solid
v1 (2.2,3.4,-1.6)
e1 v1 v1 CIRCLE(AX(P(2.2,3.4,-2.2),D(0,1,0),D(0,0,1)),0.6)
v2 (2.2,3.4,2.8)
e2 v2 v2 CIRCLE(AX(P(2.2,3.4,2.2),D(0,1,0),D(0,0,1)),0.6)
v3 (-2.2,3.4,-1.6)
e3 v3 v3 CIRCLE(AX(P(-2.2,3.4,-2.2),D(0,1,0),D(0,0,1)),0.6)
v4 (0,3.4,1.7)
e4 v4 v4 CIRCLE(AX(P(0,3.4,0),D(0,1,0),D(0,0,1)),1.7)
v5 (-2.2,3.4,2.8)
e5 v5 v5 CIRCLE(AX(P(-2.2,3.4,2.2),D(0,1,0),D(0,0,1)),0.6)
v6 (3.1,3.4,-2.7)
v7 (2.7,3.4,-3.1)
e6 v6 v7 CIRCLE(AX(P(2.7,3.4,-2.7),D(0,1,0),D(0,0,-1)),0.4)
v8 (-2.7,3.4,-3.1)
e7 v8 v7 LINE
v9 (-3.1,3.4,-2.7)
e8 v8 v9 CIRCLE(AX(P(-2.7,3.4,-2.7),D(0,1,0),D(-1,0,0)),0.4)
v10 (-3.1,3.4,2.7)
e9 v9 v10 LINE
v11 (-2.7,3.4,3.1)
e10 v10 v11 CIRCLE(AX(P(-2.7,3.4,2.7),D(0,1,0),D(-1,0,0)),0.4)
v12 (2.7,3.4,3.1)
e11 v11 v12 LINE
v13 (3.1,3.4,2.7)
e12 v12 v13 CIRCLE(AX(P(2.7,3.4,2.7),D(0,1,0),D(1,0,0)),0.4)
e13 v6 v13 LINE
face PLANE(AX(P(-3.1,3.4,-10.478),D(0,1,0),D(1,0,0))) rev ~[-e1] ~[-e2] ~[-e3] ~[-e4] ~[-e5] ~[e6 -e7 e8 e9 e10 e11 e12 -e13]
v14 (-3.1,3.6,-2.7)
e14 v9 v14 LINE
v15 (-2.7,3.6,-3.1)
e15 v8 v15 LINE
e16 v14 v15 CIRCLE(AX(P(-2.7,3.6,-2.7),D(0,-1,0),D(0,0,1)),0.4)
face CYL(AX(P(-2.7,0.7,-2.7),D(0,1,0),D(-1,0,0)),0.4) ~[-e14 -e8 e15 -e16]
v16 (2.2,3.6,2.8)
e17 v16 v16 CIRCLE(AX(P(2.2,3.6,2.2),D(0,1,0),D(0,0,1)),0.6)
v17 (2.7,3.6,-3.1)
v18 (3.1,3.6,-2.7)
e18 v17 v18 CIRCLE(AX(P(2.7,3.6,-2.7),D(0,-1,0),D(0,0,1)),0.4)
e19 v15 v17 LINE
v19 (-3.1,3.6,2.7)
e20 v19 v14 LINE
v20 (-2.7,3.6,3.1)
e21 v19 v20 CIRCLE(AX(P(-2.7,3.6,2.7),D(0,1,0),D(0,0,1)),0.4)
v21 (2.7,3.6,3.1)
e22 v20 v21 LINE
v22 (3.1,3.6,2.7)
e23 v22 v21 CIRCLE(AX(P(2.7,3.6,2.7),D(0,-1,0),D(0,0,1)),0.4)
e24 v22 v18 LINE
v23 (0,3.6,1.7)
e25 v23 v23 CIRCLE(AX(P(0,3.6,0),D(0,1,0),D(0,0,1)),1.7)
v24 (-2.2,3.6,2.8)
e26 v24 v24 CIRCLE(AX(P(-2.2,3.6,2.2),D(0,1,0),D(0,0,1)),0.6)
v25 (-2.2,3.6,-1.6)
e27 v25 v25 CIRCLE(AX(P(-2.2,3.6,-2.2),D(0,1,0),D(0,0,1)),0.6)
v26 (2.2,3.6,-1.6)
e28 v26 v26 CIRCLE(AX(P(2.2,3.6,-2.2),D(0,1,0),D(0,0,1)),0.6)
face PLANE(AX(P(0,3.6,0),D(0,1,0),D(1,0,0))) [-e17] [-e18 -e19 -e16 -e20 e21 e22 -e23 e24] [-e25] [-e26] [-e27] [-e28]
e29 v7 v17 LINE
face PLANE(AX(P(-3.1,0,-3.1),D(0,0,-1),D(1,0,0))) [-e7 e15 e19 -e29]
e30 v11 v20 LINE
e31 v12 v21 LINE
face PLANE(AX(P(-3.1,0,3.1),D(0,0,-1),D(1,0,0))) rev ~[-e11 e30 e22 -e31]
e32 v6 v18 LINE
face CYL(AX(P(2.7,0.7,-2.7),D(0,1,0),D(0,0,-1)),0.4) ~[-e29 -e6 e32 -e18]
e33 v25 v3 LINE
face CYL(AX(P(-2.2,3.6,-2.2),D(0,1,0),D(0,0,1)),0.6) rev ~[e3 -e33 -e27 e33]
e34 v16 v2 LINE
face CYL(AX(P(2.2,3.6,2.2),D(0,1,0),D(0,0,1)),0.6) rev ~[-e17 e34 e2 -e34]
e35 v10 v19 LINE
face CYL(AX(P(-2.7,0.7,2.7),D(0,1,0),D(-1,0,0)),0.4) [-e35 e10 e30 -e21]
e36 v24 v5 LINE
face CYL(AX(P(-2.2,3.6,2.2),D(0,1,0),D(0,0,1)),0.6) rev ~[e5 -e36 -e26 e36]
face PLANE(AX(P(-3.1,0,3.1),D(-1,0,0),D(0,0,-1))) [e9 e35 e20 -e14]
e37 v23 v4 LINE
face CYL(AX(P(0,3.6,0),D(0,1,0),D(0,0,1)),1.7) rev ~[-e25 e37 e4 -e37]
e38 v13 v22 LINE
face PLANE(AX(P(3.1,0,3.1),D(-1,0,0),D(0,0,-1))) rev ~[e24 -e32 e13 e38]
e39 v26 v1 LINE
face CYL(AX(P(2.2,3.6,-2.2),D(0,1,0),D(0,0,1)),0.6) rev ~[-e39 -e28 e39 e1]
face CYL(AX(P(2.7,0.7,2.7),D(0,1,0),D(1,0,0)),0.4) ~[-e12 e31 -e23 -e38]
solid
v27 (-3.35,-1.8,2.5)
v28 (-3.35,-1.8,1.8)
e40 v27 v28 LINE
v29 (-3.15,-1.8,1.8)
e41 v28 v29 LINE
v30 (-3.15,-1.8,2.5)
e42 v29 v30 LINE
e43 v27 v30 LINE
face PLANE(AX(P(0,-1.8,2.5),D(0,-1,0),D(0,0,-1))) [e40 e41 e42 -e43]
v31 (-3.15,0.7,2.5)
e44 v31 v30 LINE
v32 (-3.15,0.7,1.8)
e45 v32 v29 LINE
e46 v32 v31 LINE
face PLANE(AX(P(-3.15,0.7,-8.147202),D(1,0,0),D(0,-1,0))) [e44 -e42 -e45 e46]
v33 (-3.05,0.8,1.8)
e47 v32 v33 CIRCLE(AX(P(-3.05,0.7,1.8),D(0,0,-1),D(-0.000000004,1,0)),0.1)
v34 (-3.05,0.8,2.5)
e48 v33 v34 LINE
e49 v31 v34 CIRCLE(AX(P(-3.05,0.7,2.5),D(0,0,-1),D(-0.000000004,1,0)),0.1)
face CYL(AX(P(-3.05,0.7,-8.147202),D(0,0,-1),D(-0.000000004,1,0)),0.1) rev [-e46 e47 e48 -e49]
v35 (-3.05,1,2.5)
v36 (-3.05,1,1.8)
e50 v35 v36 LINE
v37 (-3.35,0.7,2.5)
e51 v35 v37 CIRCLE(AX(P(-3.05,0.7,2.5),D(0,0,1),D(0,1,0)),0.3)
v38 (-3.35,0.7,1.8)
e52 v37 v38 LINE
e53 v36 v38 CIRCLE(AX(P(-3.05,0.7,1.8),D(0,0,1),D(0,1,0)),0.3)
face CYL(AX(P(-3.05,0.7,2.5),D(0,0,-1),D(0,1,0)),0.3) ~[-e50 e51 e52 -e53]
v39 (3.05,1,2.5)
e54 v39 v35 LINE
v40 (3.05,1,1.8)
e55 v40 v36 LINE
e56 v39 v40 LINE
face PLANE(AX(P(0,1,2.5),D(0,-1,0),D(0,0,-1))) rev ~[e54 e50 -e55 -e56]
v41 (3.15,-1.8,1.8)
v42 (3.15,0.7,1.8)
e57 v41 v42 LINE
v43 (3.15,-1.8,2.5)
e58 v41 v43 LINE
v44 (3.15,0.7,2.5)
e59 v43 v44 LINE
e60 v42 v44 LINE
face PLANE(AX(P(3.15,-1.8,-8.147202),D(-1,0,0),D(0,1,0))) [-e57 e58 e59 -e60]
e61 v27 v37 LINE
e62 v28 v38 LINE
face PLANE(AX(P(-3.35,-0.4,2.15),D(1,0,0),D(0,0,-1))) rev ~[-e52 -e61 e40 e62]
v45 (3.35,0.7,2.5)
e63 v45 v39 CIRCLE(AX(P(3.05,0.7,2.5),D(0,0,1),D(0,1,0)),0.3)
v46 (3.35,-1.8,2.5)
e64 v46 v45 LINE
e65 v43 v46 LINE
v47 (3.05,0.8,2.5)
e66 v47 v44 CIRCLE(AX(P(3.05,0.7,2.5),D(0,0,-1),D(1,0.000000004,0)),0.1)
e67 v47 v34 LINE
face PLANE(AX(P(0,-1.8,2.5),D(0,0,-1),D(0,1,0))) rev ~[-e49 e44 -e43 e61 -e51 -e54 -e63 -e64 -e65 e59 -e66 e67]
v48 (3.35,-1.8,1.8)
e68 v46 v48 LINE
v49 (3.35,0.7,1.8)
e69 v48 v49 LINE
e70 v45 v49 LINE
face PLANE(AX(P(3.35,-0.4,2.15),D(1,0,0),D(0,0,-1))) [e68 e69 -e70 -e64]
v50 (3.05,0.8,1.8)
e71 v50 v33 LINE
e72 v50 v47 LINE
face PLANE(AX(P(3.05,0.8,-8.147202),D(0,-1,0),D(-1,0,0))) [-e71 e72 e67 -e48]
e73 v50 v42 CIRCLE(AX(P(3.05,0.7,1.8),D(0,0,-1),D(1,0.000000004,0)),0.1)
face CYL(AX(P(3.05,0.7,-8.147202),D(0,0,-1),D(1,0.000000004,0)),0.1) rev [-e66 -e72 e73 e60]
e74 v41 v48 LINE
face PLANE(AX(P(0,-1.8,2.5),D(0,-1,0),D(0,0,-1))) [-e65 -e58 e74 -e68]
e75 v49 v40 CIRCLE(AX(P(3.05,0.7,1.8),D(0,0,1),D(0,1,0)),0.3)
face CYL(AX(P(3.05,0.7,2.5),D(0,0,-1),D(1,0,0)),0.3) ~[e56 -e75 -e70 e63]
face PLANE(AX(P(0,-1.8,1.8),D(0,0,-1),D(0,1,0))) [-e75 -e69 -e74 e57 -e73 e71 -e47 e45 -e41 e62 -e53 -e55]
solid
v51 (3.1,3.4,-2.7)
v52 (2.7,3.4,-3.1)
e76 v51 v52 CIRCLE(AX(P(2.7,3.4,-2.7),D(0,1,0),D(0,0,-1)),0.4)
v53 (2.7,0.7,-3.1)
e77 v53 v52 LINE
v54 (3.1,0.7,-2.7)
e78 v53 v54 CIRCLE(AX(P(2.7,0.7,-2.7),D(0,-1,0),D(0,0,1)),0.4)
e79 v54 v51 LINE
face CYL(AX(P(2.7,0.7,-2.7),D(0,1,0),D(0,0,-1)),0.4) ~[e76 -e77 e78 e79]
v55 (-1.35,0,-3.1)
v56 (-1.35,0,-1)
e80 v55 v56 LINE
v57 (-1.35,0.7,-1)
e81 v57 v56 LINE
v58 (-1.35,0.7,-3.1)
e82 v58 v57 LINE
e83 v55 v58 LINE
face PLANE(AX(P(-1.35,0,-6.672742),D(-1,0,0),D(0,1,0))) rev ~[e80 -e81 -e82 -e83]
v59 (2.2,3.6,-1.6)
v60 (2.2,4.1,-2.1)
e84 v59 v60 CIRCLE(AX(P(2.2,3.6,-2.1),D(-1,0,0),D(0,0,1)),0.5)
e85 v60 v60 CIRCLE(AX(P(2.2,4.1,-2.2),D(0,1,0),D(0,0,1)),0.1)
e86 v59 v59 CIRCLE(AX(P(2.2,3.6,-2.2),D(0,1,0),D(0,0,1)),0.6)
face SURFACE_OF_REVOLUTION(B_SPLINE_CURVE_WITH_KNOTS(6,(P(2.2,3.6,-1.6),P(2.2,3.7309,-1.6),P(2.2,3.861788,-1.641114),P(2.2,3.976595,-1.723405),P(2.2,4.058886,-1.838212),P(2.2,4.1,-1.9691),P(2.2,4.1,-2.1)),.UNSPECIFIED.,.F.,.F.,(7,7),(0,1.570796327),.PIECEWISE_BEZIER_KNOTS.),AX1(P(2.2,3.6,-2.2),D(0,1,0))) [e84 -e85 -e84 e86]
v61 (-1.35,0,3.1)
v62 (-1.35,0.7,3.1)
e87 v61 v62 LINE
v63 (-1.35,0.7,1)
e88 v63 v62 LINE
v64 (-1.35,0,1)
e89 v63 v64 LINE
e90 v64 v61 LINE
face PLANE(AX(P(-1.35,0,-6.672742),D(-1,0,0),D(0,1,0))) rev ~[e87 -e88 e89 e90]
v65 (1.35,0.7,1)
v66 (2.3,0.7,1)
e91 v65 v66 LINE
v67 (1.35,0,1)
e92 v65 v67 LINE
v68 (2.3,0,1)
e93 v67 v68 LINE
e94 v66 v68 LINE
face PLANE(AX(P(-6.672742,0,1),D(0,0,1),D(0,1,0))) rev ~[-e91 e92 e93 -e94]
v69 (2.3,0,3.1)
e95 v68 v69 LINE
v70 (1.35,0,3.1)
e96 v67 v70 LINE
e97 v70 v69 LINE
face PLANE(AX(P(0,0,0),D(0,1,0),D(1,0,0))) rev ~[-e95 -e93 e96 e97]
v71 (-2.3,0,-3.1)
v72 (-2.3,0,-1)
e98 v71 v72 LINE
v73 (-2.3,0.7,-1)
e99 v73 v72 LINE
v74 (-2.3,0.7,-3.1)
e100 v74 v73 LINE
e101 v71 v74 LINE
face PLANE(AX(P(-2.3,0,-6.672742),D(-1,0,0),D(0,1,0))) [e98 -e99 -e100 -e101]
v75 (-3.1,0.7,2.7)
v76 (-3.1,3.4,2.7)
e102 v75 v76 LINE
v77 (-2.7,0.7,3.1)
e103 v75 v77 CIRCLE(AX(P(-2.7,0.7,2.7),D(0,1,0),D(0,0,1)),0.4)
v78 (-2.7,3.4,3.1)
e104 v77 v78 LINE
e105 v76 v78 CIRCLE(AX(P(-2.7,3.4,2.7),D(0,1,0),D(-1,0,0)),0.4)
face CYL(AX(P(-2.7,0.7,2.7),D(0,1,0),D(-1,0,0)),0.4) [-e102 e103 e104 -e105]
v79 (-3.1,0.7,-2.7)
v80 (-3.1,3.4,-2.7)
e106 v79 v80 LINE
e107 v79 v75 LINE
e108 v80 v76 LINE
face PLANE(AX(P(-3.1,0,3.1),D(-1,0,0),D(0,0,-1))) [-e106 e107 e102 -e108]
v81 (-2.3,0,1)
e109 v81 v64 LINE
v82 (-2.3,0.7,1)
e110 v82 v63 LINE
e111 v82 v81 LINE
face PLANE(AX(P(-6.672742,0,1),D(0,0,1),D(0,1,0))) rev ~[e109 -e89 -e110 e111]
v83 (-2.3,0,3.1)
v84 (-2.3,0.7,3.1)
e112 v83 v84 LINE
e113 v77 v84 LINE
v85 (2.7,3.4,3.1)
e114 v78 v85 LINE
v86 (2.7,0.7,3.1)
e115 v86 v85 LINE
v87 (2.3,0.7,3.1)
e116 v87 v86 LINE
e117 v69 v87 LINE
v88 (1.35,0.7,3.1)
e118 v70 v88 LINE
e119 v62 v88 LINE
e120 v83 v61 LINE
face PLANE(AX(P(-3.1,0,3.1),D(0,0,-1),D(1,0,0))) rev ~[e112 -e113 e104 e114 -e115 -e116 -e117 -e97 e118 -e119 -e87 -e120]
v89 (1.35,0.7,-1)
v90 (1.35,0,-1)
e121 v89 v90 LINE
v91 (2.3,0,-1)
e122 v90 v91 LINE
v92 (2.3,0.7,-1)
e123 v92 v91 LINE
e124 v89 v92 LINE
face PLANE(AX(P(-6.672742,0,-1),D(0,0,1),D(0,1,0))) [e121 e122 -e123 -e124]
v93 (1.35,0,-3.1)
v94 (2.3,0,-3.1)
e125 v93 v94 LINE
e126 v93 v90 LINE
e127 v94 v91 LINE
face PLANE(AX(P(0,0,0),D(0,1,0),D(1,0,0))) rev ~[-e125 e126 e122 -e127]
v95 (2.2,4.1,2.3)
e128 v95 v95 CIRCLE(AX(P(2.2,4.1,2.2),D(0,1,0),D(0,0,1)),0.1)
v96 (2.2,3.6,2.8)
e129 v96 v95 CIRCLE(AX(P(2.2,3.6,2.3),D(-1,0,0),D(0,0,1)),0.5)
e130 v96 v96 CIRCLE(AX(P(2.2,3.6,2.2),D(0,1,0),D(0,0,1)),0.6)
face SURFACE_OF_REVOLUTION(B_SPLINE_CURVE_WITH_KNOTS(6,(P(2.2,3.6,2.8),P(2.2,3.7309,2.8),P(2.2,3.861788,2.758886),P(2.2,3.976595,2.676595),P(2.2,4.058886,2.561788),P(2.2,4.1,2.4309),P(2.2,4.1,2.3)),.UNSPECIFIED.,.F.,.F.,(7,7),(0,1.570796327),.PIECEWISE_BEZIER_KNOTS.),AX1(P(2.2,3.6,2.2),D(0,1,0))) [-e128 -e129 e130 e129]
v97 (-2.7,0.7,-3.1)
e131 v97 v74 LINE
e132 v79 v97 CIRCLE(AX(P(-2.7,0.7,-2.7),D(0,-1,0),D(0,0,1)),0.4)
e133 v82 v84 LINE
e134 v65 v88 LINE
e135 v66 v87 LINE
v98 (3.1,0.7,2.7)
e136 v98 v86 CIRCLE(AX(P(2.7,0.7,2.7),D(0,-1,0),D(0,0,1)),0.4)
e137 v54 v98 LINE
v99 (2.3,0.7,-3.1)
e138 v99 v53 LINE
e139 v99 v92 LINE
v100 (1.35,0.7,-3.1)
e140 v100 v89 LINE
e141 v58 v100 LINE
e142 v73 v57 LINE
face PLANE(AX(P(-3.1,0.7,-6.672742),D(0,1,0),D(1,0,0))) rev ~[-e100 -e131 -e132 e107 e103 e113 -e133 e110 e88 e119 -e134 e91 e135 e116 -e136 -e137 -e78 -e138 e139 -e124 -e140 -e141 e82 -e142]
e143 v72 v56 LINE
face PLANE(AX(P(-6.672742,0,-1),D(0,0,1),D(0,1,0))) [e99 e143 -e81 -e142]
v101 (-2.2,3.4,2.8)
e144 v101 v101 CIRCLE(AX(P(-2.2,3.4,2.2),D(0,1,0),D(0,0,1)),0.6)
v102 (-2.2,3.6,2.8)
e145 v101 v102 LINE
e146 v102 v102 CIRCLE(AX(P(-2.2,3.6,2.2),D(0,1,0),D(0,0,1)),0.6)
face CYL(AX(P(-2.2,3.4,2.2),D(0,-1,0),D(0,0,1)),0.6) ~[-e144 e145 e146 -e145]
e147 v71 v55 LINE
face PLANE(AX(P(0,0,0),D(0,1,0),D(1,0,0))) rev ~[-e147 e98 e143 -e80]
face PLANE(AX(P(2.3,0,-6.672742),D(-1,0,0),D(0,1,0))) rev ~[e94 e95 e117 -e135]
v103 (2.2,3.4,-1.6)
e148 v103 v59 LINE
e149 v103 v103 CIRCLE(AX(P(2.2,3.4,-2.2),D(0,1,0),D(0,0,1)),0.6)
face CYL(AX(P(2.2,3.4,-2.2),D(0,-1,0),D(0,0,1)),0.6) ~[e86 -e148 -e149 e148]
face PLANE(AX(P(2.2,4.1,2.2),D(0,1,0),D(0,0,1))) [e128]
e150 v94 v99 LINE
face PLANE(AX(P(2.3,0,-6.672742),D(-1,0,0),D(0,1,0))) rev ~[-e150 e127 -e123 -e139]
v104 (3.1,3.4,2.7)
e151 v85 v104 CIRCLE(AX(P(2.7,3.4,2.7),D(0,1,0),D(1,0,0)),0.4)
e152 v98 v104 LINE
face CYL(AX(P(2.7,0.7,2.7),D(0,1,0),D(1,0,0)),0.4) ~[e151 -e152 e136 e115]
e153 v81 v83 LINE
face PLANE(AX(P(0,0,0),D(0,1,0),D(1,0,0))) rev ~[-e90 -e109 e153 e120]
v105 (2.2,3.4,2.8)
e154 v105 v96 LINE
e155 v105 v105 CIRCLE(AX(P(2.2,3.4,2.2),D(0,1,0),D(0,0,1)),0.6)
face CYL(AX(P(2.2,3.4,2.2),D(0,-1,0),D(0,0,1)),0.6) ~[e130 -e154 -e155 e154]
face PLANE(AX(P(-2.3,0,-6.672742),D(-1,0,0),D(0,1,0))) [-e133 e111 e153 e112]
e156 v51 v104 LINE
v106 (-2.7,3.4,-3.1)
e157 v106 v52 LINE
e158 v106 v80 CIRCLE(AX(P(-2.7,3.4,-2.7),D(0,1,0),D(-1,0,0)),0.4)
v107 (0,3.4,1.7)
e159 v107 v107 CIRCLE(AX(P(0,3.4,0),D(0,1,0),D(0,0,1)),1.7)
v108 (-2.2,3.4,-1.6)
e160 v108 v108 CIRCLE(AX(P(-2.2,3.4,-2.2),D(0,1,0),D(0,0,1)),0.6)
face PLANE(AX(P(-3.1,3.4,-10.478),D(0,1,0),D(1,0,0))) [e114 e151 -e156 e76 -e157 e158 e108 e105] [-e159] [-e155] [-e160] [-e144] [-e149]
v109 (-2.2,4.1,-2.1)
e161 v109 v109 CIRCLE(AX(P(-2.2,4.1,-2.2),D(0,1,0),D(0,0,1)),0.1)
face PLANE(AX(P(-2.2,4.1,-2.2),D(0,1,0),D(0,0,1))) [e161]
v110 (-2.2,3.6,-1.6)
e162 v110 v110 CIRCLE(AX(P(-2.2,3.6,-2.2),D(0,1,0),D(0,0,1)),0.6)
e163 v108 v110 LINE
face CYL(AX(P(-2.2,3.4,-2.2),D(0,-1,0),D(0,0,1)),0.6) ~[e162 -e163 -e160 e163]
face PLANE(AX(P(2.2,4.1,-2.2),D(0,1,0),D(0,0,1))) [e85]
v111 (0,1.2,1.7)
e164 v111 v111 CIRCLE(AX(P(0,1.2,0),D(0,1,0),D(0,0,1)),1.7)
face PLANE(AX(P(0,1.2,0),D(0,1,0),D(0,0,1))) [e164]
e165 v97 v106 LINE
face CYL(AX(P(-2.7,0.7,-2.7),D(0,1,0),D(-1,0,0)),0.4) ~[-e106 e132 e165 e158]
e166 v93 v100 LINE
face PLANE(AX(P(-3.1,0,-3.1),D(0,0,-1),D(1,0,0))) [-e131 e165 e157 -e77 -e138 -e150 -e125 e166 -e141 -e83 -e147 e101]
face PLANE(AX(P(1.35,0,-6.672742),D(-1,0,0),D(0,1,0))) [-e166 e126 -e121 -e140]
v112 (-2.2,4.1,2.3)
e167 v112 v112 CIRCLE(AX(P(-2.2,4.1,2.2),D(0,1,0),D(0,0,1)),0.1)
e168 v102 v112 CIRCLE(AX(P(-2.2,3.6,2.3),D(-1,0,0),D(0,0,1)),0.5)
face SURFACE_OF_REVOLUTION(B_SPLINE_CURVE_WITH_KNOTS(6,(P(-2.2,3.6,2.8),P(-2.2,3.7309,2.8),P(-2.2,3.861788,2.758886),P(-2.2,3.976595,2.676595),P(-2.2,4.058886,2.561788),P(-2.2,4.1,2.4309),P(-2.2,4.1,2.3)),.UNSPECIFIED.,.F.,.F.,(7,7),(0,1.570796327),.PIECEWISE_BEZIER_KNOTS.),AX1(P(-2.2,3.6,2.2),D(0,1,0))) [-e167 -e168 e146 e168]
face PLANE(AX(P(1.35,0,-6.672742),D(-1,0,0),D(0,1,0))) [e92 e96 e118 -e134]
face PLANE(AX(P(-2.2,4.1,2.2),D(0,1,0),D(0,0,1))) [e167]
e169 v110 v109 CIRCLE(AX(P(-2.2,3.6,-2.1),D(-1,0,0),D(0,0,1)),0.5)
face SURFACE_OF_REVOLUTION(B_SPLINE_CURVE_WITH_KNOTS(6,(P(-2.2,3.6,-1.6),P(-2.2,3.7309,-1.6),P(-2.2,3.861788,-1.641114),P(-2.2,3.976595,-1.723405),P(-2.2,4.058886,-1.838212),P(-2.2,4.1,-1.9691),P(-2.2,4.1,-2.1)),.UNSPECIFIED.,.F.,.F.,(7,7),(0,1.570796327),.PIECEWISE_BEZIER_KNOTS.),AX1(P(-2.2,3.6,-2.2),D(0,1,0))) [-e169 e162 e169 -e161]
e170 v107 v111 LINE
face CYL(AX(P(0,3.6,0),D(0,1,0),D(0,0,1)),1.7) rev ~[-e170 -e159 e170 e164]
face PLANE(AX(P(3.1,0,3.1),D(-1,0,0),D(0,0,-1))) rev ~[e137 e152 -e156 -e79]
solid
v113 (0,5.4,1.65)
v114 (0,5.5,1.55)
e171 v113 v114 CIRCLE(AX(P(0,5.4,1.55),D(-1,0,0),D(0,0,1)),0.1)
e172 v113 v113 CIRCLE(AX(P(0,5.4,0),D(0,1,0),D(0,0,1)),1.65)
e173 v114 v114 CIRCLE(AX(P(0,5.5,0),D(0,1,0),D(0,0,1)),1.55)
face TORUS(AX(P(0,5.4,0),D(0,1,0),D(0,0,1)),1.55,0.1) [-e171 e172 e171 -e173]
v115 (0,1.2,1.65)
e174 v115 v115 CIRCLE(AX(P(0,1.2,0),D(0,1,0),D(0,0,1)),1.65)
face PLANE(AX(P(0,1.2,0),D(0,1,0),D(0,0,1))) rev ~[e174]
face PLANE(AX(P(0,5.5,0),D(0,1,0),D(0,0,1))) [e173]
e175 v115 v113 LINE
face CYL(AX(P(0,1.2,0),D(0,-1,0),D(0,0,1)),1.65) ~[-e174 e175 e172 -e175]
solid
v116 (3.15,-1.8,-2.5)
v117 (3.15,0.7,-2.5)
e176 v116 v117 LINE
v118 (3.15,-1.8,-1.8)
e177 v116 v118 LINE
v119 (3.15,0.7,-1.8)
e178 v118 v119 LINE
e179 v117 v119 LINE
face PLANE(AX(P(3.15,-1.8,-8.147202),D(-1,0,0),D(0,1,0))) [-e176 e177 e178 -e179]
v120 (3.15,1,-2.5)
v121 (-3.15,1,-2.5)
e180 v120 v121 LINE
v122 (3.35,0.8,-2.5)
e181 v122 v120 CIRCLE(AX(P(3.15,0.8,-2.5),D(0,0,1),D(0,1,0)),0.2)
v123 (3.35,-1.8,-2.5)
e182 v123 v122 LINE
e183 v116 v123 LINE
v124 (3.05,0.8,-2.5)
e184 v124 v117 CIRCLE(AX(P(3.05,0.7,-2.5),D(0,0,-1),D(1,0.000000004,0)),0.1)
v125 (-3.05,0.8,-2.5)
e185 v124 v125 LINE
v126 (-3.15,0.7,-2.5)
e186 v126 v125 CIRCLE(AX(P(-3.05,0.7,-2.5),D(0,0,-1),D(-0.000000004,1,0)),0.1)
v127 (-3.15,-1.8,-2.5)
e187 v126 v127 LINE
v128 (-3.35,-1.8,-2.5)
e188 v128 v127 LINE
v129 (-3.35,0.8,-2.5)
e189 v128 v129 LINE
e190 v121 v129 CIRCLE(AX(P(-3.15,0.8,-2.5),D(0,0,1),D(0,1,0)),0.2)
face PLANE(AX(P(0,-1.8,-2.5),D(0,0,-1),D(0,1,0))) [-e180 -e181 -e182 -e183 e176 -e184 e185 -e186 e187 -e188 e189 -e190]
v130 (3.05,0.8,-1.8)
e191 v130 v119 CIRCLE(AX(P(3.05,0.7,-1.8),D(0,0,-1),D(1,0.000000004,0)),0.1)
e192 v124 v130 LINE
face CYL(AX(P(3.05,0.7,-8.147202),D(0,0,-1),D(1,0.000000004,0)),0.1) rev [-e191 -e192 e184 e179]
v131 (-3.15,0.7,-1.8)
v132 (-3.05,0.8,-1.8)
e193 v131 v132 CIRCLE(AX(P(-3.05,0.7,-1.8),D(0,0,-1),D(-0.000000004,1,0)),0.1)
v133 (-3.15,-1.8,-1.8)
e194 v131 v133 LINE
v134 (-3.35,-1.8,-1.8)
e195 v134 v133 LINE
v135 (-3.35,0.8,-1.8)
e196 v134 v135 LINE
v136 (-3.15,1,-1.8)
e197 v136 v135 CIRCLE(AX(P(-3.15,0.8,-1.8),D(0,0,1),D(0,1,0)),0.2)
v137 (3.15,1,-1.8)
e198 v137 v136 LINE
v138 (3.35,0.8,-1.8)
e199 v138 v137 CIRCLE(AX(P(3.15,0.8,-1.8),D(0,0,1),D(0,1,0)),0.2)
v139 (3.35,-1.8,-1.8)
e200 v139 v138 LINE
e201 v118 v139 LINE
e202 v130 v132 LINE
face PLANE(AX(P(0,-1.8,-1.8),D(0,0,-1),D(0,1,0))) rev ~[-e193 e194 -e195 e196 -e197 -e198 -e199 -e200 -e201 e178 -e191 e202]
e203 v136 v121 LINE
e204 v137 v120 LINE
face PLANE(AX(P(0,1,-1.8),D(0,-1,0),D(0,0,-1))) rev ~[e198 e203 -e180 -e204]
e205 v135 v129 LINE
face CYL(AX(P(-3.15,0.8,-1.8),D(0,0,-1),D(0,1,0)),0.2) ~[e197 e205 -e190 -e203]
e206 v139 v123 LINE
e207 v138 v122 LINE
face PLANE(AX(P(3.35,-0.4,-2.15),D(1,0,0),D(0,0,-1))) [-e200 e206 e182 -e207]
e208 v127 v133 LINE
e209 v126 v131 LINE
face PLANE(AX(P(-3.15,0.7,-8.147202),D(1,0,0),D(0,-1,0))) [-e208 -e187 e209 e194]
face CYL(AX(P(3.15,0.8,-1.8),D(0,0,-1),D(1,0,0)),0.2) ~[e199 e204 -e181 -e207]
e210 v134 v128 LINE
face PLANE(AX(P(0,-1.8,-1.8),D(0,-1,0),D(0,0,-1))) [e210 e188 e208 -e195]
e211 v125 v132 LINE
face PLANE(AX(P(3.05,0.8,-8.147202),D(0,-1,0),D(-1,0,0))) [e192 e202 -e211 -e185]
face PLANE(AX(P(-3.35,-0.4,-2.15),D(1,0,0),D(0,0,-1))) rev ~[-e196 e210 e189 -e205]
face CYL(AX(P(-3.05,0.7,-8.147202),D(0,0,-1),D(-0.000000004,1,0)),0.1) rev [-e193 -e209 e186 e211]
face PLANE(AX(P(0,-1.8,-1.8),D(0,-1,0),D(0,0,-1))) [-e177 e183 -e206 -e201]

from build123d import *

# Parameters (mm, degrees)
SKETCH1_W                = 6.2
SKETCH1_H                = 6.2
BOSS_EXTRUDE1_DEPTH      = 3.6
CUT_EXTRUDE1_DEPTH       = 6.672741841
CUT_EXTRUDE1_DEPTH_BACK  = 6.672741841
SKETCH2_W                = 2
SKETCH2_H                = 0.7
CUT_EXTRUDE2_DEPTH       = 6.672741841
CUT_EXTRUDE2_DEPTH_BACK  = 6.672741841
SKETCH4_W                = 2.7
SKETCH4_H                = 0.7
SKETCH4_W_2              = 0.8
FILLET1_R                = 0.4
SPLIT1_SURFACE_1_BACK    = 10.478
SPLIT1_SURFACE_1_DEPTH   = 20.956
SPLIT1_SURFACE_2_BACK    = 10.478
SPLIT1_SURFACE_2_DEPTH   = 20.956
SKETCH6_R                = 0.6
CUT_EXTRUDE3_DEPTH       = 6.672741841
BOSS_EXTRUDE3_DEPTH      = 0.5
BOSS_EXTRUDE3_DEPTH_BACK = 0.2
SKETCH6_2_R              = 0.6
FILLET2_R                = 0.5
SKETCH7_R                = 1.7
CUT_EXTRUDE4_DEPTH       = 2.4
SKETCH8_R                = 1.65
BOSS_EXTRUDE4_DEPTH      = 4.3
FILLET3_R                = 0.1
SKETCH9_W                = 0.7
SKETCH9_H                = 2.8
BOSS_EXTRUDE5_DEPTH      = 3.35
BOSS_EXTRUDE5_2_DEPTH    = 3.35
FILLET4_R                = 0.3
FILLET5_R                = 0.2
CUT_EXTRUDE5_DEPTH       = 8.14720225
CUT_EXTRUDE5_DEPTH_BACK  = 8.14720225


with BuildPart() as part:
    # Sketch1 → Boss-Extrude1 (new body)
    with BuildSketch(Plane(origin=(0, 0, 0), x_dir=(1, 0, 0), z_dir=(0, 1, 0))):
        Rectangle(SKETCH1_W, SKETCH1_H)
    extrude(amount=BOSS_EXTRUDE1_DEPTH)

    # Sketch2 → Cut-Extrude1 (cut, two sides: drawn at the far end of the back side and taken through both)
    with BuildSketch(Plane(origin=(0, 0, 0), x_dir=(0, 0, -1), z_dir=(1, 0, 0)).offset(-CUT_EXTRUDE1_DEPTH_BACK)):
        with Locations((0, 0.35)):
            Rectangle(SKETCH2_W, SKETCH2_H)
    extrude(amount=CUT_EXTRUDE1_DEPTH + CUT_EXTRUDE1_DEPTH_BACK, mode=Mode.SUBTRACT)

    # Sketch4 → Cut-Extrude2 (cut, two sides: drawn at the far end of the back side and taken through both)
    with BuildSketch(Plane.XY.offset(-CUT_EXTRUDE2_DEPTH_BACK)):
        with Locations((0, 0.35)):
            Rectangle(SKETCH4_W, SKETCH4_H)
        with Locations((2.7, 0.35)):
            Rectangle(SKETCH4_W_2, SKETCH4_H)
        with Locations((-2.7, 0.35)):
            Rectangle(SKETCH4_W_2, SKETCH4_H)
    extrude(amount=CUT_EXTRUDE2_DEPTH + CUT_EXTRUDE2_DEPTH_BACK, mode=Mode.SUBTRACT)

    # Fillet1
    fillet1_edges = [part.edges().sort_by_distance(p)[0] for p in [
        (3.1, 2.15, 3.1),
        (-3.1, 2.15, 3.1),
        (-3.1, 2.15, -3.1),
        (3.1, 2.15, -3.1),
    ]]
    fillet(fillet1_edges, radius=FILLET1_R)


with BuildPart() as body_2:
    # Split1: the piece behind the surface
    add(part.part)
    # Split1 surface: a surface, the sketch's curves swept straight by 20.956 mm
    with BuildLine(Plane.XY.offset(-SPLIT1_SURFACE_1_BACK), mode=Mode.PRIVATE) as split1_surface_1_path:
        Line((-3.1, 3.4), (3.1, 3.4))
    split1_surface_1 = Shell.extrude(split1_surface_1_path.wire(), (0 * SPLIT1_SURFACE_1_DEPTH, 0 * SPLIT1_SURFACE_1_DEPTH, 1 * SPLIT1_SURFACE_1_DEPTH))
    split(bisect_by=split1_surface_1, keep=Keep.BOTTOM)

    # Sketch6<2> → Boss-Extrude3 (add, two sides: drawn at the far end of the back side and taken through both)
    with BuildSketch(Plane(origin=(0, 3.6, 0), x_dir=(1, 0, 0), z_dir=(0, 1, 0)).offset(-BOSS_EXTRUDE3_DEPTH_BACK)):
        with Locations(Location((-2.2, 2.2, 0), (0, 0, 270))):
            Circle(SKETCH6_2_R)
        with Locations(Location((2.2, 2.2, 0), (0, 0, 270))):
            Circle(SKETCH6_2_R)
        with Locations(Location((-2.2, -2.2, 0), (0, 0, 270))):
            Circle(SKETCH6_2_R)
        with Locations(Location((2.2, -2.2, 0), (0, 0, 270))):
            Circle(SKETCH6_2_R)
    extrude(amount=BOSS_EXTRUDE3_DEPTH + BOSS_EXTRUDE3_DEPTH_BACK)

    # Fillet2
    fillet2_edges = [body_2.edges().sort_by_distance(p)[0] for p in [
        (-2.2, 4.1, -2.8),
        (2.2, 4.1, -2.8),
        (-2.2, 4.1, 1.6),
        (2.2, 4.1, 1.6),
    ]]
    fillet(fillet2_edges, radius=FILLET2_R)


with BuildPart() as part_1:
    add(part.part)

    # Split1: split by a surface, the side it looks to stays
    # Split1 surface: a surface, the sketch's curves swept straight by 20.956 mm
    with BuildLine(Plane.XY.offset(-SPLIT1_SURFACE_2_BACK), mode=Mode.PRIVATE) as split1_surface_2_path:
        Line((-3.1, 3.4), (3.1, 3.4))
    split1_surface_2 = Shell.extrude(split1_surface_2_path.wire(), (0 * SPLIT1_SURFACE_2_DEPTH, 0 * SPLIT1_SURFACE_2_DEPTH, 1 * SPLIT1_SURFACE_2_DEPTH))
    split(bisect_by=split1_surface_2, keep=Keep.TOP)

    # Sketch6 → Cut-Extrude3 (cut, through all)
    with BuildSketch(Plane(origin=(0, 3.6, 0), x_dir=(1, 0, 0), z_dir=(0, 1, 0))):
        with Locations(Location((-2.2, 2.2, 0), (0, 0, 270))):
            Circle(SKETCH6_R)
        with Locations(Location((2.2, 2.2, 0), (0, 0, 270))):
            Circle(SKETCH6_R)
        with Locations(Location((-2.2, -2.2, 0), (0, 0, 270))):
            Circle(SKETCH6_R)
        with Locations(Location((2.2, -2.2, 0), (0, 0, 270))):
            Circle(SKETCH6_R)
    extrude(amount=-CUT_EXTRUDE3_DEPTH, mode=Mode.SUBTRACT)


with BuildPart() as cut_extrude4_tool:
    # Sketch7 → Cut-Extrude4 (new body)
    with BuildSketch(Plane(origin=(0, 3.6, 0), x_dir=(1, 0, 0), z_dir=(0, 1, 0))):
        with Locations(Location((0, 0, 0), (0, 0, 270))):
            Circle(SKETCH7_R)
    extrude(amount=-CUT_EXTRUDE4_DEPTH)


with BuildPart() as part_2:
    add(part_1.part)

    # Cut-Extrude4: cut by cut_extrude4_tool
    add(cut_extrude4_tool.part, mode=Mode.SUBTRACT)


with BuildPart() as body_2_1:
    add(body_2.part)

    # Cut-Extrude4: cut by cut_extrude4_tool
    add(cut_extrude4_tool.part, mode=Mode.SUBTRACT)


with BuildPart() as body_3:
    # Sketch8 → Boss-Extrude4 (new body)
    with BuildSketch(Plane(origin=(0, 1.2, 0), x_dir=(1, 0, 0), z_dir=(0, 1, 0))):
        with Locations(Location((0, 0, 0), (0, 0, 270))):
            Circle(SKETCH8_R)
    extrude(amount=BOSS_EXTRUDE4_DEPTH)

    # Fillet3
    fillet3_edges = [body_3.edges().sort_by_distance(p)[0] for p in [
        (0, 5.5, -1.65),
    ]]
    fillet(fillet3_edges, radius=FILLET3_R)


with BuildPart() as body_4:
    # Sketch9 → Boss-Extrude5 (new, symmetric)
    with BuildSketch(Plane(origin=(0, 0, 0), x_dir=(0, 0, -1), z_dir=(1, 0, 0))):
        with Locations((2.15, -0.4)):
            Rectangle(SKETCH9_W, SKETCH9_H)
    extrude(amount=BOSS_EXTRUDE5_DEPTH, both=True)

    # Fillet5
    fillet5_edges = [body_4.edges().sort_by_distance(p)[0] for p in [
        (3.35, 1, -2.15),
        (-3.35, 1, -2.15),
    ]]
    fillet(fillet5_edges, radius=FILLET5_R)


with BuildPart() as body_5:
    # Sketch9 → Boss-Extrude5 2 (new, symmetric)
    with BuildSketch(Plane(origin=(0, 0, 0), x_dir=(0, 0, -1), z_dir=(1, 0, 0))):
        with Locations((-2.15, -0.4)):
            Rectangle(SKETCH9_W, SKETCH9_H)
    extrude(amount=BOSS_EXTRUDE5_2_DEPTH, both=True)

    # Fillet4
    fillet4_edges = [body_5.edges().sort_by_distance(p)[0] for p in [
        (3.35, 1, 2.15),
        (-3.35, 1, 2.15),
    ]]
    fillet(fillet4_edges, radius=FILLET4_R)


with BuildPart() as cut_extrude5_tool:
    # Sketch11 → Cut-Extrude5 (new, two sides: drawn at the far end of the back side and taken through both)
    with BuildSketch(Plane.XY.offset(-CUT_EXTRUDE5_DEPTH_BACK)):
        with BuildLine():
            Line((3.05, 0.8), (-3.05, 0.8))
            ThreePointArc((-3.05, 0.8), (-3.120710678, 0.770710678), (-3.15, 0.7))
            Line((-3.15, 0.7), (-3.15, -1.8))
            Line((-3.15, -1.8), (3.15, -1.8))
            Line((3.15, -1.8), (3.15, 0.7))
            ThreePointArc((3.15, 0.7), (3.120710678, 0.770710678), (3.05, 0.8))
        make_face()
    extrude(amount=CUT_EXTRUDE5_DEPTH + CUT_EXTRUDE5_DEPTH_BACK)


with BuildPart() as body_5_1:
    add(body_5.part)

    # Cut-Extrude5: cut by cut_extrude5_tool
    add(cut_extrude5_tool.part, mode=Mode.SUBTRACT)


with BuildPart() as body_4_1:
    add(body_4.part)

    # Cut-Extrude5: cut by cut_extrude5_tool
    add(cut_extrude5_tool.part, mode=Mode.SUBTRACT)


solid = Compound([part_2.part, body_2_1.part, body_3.part, body_5_1.part, body_4_1.part])
